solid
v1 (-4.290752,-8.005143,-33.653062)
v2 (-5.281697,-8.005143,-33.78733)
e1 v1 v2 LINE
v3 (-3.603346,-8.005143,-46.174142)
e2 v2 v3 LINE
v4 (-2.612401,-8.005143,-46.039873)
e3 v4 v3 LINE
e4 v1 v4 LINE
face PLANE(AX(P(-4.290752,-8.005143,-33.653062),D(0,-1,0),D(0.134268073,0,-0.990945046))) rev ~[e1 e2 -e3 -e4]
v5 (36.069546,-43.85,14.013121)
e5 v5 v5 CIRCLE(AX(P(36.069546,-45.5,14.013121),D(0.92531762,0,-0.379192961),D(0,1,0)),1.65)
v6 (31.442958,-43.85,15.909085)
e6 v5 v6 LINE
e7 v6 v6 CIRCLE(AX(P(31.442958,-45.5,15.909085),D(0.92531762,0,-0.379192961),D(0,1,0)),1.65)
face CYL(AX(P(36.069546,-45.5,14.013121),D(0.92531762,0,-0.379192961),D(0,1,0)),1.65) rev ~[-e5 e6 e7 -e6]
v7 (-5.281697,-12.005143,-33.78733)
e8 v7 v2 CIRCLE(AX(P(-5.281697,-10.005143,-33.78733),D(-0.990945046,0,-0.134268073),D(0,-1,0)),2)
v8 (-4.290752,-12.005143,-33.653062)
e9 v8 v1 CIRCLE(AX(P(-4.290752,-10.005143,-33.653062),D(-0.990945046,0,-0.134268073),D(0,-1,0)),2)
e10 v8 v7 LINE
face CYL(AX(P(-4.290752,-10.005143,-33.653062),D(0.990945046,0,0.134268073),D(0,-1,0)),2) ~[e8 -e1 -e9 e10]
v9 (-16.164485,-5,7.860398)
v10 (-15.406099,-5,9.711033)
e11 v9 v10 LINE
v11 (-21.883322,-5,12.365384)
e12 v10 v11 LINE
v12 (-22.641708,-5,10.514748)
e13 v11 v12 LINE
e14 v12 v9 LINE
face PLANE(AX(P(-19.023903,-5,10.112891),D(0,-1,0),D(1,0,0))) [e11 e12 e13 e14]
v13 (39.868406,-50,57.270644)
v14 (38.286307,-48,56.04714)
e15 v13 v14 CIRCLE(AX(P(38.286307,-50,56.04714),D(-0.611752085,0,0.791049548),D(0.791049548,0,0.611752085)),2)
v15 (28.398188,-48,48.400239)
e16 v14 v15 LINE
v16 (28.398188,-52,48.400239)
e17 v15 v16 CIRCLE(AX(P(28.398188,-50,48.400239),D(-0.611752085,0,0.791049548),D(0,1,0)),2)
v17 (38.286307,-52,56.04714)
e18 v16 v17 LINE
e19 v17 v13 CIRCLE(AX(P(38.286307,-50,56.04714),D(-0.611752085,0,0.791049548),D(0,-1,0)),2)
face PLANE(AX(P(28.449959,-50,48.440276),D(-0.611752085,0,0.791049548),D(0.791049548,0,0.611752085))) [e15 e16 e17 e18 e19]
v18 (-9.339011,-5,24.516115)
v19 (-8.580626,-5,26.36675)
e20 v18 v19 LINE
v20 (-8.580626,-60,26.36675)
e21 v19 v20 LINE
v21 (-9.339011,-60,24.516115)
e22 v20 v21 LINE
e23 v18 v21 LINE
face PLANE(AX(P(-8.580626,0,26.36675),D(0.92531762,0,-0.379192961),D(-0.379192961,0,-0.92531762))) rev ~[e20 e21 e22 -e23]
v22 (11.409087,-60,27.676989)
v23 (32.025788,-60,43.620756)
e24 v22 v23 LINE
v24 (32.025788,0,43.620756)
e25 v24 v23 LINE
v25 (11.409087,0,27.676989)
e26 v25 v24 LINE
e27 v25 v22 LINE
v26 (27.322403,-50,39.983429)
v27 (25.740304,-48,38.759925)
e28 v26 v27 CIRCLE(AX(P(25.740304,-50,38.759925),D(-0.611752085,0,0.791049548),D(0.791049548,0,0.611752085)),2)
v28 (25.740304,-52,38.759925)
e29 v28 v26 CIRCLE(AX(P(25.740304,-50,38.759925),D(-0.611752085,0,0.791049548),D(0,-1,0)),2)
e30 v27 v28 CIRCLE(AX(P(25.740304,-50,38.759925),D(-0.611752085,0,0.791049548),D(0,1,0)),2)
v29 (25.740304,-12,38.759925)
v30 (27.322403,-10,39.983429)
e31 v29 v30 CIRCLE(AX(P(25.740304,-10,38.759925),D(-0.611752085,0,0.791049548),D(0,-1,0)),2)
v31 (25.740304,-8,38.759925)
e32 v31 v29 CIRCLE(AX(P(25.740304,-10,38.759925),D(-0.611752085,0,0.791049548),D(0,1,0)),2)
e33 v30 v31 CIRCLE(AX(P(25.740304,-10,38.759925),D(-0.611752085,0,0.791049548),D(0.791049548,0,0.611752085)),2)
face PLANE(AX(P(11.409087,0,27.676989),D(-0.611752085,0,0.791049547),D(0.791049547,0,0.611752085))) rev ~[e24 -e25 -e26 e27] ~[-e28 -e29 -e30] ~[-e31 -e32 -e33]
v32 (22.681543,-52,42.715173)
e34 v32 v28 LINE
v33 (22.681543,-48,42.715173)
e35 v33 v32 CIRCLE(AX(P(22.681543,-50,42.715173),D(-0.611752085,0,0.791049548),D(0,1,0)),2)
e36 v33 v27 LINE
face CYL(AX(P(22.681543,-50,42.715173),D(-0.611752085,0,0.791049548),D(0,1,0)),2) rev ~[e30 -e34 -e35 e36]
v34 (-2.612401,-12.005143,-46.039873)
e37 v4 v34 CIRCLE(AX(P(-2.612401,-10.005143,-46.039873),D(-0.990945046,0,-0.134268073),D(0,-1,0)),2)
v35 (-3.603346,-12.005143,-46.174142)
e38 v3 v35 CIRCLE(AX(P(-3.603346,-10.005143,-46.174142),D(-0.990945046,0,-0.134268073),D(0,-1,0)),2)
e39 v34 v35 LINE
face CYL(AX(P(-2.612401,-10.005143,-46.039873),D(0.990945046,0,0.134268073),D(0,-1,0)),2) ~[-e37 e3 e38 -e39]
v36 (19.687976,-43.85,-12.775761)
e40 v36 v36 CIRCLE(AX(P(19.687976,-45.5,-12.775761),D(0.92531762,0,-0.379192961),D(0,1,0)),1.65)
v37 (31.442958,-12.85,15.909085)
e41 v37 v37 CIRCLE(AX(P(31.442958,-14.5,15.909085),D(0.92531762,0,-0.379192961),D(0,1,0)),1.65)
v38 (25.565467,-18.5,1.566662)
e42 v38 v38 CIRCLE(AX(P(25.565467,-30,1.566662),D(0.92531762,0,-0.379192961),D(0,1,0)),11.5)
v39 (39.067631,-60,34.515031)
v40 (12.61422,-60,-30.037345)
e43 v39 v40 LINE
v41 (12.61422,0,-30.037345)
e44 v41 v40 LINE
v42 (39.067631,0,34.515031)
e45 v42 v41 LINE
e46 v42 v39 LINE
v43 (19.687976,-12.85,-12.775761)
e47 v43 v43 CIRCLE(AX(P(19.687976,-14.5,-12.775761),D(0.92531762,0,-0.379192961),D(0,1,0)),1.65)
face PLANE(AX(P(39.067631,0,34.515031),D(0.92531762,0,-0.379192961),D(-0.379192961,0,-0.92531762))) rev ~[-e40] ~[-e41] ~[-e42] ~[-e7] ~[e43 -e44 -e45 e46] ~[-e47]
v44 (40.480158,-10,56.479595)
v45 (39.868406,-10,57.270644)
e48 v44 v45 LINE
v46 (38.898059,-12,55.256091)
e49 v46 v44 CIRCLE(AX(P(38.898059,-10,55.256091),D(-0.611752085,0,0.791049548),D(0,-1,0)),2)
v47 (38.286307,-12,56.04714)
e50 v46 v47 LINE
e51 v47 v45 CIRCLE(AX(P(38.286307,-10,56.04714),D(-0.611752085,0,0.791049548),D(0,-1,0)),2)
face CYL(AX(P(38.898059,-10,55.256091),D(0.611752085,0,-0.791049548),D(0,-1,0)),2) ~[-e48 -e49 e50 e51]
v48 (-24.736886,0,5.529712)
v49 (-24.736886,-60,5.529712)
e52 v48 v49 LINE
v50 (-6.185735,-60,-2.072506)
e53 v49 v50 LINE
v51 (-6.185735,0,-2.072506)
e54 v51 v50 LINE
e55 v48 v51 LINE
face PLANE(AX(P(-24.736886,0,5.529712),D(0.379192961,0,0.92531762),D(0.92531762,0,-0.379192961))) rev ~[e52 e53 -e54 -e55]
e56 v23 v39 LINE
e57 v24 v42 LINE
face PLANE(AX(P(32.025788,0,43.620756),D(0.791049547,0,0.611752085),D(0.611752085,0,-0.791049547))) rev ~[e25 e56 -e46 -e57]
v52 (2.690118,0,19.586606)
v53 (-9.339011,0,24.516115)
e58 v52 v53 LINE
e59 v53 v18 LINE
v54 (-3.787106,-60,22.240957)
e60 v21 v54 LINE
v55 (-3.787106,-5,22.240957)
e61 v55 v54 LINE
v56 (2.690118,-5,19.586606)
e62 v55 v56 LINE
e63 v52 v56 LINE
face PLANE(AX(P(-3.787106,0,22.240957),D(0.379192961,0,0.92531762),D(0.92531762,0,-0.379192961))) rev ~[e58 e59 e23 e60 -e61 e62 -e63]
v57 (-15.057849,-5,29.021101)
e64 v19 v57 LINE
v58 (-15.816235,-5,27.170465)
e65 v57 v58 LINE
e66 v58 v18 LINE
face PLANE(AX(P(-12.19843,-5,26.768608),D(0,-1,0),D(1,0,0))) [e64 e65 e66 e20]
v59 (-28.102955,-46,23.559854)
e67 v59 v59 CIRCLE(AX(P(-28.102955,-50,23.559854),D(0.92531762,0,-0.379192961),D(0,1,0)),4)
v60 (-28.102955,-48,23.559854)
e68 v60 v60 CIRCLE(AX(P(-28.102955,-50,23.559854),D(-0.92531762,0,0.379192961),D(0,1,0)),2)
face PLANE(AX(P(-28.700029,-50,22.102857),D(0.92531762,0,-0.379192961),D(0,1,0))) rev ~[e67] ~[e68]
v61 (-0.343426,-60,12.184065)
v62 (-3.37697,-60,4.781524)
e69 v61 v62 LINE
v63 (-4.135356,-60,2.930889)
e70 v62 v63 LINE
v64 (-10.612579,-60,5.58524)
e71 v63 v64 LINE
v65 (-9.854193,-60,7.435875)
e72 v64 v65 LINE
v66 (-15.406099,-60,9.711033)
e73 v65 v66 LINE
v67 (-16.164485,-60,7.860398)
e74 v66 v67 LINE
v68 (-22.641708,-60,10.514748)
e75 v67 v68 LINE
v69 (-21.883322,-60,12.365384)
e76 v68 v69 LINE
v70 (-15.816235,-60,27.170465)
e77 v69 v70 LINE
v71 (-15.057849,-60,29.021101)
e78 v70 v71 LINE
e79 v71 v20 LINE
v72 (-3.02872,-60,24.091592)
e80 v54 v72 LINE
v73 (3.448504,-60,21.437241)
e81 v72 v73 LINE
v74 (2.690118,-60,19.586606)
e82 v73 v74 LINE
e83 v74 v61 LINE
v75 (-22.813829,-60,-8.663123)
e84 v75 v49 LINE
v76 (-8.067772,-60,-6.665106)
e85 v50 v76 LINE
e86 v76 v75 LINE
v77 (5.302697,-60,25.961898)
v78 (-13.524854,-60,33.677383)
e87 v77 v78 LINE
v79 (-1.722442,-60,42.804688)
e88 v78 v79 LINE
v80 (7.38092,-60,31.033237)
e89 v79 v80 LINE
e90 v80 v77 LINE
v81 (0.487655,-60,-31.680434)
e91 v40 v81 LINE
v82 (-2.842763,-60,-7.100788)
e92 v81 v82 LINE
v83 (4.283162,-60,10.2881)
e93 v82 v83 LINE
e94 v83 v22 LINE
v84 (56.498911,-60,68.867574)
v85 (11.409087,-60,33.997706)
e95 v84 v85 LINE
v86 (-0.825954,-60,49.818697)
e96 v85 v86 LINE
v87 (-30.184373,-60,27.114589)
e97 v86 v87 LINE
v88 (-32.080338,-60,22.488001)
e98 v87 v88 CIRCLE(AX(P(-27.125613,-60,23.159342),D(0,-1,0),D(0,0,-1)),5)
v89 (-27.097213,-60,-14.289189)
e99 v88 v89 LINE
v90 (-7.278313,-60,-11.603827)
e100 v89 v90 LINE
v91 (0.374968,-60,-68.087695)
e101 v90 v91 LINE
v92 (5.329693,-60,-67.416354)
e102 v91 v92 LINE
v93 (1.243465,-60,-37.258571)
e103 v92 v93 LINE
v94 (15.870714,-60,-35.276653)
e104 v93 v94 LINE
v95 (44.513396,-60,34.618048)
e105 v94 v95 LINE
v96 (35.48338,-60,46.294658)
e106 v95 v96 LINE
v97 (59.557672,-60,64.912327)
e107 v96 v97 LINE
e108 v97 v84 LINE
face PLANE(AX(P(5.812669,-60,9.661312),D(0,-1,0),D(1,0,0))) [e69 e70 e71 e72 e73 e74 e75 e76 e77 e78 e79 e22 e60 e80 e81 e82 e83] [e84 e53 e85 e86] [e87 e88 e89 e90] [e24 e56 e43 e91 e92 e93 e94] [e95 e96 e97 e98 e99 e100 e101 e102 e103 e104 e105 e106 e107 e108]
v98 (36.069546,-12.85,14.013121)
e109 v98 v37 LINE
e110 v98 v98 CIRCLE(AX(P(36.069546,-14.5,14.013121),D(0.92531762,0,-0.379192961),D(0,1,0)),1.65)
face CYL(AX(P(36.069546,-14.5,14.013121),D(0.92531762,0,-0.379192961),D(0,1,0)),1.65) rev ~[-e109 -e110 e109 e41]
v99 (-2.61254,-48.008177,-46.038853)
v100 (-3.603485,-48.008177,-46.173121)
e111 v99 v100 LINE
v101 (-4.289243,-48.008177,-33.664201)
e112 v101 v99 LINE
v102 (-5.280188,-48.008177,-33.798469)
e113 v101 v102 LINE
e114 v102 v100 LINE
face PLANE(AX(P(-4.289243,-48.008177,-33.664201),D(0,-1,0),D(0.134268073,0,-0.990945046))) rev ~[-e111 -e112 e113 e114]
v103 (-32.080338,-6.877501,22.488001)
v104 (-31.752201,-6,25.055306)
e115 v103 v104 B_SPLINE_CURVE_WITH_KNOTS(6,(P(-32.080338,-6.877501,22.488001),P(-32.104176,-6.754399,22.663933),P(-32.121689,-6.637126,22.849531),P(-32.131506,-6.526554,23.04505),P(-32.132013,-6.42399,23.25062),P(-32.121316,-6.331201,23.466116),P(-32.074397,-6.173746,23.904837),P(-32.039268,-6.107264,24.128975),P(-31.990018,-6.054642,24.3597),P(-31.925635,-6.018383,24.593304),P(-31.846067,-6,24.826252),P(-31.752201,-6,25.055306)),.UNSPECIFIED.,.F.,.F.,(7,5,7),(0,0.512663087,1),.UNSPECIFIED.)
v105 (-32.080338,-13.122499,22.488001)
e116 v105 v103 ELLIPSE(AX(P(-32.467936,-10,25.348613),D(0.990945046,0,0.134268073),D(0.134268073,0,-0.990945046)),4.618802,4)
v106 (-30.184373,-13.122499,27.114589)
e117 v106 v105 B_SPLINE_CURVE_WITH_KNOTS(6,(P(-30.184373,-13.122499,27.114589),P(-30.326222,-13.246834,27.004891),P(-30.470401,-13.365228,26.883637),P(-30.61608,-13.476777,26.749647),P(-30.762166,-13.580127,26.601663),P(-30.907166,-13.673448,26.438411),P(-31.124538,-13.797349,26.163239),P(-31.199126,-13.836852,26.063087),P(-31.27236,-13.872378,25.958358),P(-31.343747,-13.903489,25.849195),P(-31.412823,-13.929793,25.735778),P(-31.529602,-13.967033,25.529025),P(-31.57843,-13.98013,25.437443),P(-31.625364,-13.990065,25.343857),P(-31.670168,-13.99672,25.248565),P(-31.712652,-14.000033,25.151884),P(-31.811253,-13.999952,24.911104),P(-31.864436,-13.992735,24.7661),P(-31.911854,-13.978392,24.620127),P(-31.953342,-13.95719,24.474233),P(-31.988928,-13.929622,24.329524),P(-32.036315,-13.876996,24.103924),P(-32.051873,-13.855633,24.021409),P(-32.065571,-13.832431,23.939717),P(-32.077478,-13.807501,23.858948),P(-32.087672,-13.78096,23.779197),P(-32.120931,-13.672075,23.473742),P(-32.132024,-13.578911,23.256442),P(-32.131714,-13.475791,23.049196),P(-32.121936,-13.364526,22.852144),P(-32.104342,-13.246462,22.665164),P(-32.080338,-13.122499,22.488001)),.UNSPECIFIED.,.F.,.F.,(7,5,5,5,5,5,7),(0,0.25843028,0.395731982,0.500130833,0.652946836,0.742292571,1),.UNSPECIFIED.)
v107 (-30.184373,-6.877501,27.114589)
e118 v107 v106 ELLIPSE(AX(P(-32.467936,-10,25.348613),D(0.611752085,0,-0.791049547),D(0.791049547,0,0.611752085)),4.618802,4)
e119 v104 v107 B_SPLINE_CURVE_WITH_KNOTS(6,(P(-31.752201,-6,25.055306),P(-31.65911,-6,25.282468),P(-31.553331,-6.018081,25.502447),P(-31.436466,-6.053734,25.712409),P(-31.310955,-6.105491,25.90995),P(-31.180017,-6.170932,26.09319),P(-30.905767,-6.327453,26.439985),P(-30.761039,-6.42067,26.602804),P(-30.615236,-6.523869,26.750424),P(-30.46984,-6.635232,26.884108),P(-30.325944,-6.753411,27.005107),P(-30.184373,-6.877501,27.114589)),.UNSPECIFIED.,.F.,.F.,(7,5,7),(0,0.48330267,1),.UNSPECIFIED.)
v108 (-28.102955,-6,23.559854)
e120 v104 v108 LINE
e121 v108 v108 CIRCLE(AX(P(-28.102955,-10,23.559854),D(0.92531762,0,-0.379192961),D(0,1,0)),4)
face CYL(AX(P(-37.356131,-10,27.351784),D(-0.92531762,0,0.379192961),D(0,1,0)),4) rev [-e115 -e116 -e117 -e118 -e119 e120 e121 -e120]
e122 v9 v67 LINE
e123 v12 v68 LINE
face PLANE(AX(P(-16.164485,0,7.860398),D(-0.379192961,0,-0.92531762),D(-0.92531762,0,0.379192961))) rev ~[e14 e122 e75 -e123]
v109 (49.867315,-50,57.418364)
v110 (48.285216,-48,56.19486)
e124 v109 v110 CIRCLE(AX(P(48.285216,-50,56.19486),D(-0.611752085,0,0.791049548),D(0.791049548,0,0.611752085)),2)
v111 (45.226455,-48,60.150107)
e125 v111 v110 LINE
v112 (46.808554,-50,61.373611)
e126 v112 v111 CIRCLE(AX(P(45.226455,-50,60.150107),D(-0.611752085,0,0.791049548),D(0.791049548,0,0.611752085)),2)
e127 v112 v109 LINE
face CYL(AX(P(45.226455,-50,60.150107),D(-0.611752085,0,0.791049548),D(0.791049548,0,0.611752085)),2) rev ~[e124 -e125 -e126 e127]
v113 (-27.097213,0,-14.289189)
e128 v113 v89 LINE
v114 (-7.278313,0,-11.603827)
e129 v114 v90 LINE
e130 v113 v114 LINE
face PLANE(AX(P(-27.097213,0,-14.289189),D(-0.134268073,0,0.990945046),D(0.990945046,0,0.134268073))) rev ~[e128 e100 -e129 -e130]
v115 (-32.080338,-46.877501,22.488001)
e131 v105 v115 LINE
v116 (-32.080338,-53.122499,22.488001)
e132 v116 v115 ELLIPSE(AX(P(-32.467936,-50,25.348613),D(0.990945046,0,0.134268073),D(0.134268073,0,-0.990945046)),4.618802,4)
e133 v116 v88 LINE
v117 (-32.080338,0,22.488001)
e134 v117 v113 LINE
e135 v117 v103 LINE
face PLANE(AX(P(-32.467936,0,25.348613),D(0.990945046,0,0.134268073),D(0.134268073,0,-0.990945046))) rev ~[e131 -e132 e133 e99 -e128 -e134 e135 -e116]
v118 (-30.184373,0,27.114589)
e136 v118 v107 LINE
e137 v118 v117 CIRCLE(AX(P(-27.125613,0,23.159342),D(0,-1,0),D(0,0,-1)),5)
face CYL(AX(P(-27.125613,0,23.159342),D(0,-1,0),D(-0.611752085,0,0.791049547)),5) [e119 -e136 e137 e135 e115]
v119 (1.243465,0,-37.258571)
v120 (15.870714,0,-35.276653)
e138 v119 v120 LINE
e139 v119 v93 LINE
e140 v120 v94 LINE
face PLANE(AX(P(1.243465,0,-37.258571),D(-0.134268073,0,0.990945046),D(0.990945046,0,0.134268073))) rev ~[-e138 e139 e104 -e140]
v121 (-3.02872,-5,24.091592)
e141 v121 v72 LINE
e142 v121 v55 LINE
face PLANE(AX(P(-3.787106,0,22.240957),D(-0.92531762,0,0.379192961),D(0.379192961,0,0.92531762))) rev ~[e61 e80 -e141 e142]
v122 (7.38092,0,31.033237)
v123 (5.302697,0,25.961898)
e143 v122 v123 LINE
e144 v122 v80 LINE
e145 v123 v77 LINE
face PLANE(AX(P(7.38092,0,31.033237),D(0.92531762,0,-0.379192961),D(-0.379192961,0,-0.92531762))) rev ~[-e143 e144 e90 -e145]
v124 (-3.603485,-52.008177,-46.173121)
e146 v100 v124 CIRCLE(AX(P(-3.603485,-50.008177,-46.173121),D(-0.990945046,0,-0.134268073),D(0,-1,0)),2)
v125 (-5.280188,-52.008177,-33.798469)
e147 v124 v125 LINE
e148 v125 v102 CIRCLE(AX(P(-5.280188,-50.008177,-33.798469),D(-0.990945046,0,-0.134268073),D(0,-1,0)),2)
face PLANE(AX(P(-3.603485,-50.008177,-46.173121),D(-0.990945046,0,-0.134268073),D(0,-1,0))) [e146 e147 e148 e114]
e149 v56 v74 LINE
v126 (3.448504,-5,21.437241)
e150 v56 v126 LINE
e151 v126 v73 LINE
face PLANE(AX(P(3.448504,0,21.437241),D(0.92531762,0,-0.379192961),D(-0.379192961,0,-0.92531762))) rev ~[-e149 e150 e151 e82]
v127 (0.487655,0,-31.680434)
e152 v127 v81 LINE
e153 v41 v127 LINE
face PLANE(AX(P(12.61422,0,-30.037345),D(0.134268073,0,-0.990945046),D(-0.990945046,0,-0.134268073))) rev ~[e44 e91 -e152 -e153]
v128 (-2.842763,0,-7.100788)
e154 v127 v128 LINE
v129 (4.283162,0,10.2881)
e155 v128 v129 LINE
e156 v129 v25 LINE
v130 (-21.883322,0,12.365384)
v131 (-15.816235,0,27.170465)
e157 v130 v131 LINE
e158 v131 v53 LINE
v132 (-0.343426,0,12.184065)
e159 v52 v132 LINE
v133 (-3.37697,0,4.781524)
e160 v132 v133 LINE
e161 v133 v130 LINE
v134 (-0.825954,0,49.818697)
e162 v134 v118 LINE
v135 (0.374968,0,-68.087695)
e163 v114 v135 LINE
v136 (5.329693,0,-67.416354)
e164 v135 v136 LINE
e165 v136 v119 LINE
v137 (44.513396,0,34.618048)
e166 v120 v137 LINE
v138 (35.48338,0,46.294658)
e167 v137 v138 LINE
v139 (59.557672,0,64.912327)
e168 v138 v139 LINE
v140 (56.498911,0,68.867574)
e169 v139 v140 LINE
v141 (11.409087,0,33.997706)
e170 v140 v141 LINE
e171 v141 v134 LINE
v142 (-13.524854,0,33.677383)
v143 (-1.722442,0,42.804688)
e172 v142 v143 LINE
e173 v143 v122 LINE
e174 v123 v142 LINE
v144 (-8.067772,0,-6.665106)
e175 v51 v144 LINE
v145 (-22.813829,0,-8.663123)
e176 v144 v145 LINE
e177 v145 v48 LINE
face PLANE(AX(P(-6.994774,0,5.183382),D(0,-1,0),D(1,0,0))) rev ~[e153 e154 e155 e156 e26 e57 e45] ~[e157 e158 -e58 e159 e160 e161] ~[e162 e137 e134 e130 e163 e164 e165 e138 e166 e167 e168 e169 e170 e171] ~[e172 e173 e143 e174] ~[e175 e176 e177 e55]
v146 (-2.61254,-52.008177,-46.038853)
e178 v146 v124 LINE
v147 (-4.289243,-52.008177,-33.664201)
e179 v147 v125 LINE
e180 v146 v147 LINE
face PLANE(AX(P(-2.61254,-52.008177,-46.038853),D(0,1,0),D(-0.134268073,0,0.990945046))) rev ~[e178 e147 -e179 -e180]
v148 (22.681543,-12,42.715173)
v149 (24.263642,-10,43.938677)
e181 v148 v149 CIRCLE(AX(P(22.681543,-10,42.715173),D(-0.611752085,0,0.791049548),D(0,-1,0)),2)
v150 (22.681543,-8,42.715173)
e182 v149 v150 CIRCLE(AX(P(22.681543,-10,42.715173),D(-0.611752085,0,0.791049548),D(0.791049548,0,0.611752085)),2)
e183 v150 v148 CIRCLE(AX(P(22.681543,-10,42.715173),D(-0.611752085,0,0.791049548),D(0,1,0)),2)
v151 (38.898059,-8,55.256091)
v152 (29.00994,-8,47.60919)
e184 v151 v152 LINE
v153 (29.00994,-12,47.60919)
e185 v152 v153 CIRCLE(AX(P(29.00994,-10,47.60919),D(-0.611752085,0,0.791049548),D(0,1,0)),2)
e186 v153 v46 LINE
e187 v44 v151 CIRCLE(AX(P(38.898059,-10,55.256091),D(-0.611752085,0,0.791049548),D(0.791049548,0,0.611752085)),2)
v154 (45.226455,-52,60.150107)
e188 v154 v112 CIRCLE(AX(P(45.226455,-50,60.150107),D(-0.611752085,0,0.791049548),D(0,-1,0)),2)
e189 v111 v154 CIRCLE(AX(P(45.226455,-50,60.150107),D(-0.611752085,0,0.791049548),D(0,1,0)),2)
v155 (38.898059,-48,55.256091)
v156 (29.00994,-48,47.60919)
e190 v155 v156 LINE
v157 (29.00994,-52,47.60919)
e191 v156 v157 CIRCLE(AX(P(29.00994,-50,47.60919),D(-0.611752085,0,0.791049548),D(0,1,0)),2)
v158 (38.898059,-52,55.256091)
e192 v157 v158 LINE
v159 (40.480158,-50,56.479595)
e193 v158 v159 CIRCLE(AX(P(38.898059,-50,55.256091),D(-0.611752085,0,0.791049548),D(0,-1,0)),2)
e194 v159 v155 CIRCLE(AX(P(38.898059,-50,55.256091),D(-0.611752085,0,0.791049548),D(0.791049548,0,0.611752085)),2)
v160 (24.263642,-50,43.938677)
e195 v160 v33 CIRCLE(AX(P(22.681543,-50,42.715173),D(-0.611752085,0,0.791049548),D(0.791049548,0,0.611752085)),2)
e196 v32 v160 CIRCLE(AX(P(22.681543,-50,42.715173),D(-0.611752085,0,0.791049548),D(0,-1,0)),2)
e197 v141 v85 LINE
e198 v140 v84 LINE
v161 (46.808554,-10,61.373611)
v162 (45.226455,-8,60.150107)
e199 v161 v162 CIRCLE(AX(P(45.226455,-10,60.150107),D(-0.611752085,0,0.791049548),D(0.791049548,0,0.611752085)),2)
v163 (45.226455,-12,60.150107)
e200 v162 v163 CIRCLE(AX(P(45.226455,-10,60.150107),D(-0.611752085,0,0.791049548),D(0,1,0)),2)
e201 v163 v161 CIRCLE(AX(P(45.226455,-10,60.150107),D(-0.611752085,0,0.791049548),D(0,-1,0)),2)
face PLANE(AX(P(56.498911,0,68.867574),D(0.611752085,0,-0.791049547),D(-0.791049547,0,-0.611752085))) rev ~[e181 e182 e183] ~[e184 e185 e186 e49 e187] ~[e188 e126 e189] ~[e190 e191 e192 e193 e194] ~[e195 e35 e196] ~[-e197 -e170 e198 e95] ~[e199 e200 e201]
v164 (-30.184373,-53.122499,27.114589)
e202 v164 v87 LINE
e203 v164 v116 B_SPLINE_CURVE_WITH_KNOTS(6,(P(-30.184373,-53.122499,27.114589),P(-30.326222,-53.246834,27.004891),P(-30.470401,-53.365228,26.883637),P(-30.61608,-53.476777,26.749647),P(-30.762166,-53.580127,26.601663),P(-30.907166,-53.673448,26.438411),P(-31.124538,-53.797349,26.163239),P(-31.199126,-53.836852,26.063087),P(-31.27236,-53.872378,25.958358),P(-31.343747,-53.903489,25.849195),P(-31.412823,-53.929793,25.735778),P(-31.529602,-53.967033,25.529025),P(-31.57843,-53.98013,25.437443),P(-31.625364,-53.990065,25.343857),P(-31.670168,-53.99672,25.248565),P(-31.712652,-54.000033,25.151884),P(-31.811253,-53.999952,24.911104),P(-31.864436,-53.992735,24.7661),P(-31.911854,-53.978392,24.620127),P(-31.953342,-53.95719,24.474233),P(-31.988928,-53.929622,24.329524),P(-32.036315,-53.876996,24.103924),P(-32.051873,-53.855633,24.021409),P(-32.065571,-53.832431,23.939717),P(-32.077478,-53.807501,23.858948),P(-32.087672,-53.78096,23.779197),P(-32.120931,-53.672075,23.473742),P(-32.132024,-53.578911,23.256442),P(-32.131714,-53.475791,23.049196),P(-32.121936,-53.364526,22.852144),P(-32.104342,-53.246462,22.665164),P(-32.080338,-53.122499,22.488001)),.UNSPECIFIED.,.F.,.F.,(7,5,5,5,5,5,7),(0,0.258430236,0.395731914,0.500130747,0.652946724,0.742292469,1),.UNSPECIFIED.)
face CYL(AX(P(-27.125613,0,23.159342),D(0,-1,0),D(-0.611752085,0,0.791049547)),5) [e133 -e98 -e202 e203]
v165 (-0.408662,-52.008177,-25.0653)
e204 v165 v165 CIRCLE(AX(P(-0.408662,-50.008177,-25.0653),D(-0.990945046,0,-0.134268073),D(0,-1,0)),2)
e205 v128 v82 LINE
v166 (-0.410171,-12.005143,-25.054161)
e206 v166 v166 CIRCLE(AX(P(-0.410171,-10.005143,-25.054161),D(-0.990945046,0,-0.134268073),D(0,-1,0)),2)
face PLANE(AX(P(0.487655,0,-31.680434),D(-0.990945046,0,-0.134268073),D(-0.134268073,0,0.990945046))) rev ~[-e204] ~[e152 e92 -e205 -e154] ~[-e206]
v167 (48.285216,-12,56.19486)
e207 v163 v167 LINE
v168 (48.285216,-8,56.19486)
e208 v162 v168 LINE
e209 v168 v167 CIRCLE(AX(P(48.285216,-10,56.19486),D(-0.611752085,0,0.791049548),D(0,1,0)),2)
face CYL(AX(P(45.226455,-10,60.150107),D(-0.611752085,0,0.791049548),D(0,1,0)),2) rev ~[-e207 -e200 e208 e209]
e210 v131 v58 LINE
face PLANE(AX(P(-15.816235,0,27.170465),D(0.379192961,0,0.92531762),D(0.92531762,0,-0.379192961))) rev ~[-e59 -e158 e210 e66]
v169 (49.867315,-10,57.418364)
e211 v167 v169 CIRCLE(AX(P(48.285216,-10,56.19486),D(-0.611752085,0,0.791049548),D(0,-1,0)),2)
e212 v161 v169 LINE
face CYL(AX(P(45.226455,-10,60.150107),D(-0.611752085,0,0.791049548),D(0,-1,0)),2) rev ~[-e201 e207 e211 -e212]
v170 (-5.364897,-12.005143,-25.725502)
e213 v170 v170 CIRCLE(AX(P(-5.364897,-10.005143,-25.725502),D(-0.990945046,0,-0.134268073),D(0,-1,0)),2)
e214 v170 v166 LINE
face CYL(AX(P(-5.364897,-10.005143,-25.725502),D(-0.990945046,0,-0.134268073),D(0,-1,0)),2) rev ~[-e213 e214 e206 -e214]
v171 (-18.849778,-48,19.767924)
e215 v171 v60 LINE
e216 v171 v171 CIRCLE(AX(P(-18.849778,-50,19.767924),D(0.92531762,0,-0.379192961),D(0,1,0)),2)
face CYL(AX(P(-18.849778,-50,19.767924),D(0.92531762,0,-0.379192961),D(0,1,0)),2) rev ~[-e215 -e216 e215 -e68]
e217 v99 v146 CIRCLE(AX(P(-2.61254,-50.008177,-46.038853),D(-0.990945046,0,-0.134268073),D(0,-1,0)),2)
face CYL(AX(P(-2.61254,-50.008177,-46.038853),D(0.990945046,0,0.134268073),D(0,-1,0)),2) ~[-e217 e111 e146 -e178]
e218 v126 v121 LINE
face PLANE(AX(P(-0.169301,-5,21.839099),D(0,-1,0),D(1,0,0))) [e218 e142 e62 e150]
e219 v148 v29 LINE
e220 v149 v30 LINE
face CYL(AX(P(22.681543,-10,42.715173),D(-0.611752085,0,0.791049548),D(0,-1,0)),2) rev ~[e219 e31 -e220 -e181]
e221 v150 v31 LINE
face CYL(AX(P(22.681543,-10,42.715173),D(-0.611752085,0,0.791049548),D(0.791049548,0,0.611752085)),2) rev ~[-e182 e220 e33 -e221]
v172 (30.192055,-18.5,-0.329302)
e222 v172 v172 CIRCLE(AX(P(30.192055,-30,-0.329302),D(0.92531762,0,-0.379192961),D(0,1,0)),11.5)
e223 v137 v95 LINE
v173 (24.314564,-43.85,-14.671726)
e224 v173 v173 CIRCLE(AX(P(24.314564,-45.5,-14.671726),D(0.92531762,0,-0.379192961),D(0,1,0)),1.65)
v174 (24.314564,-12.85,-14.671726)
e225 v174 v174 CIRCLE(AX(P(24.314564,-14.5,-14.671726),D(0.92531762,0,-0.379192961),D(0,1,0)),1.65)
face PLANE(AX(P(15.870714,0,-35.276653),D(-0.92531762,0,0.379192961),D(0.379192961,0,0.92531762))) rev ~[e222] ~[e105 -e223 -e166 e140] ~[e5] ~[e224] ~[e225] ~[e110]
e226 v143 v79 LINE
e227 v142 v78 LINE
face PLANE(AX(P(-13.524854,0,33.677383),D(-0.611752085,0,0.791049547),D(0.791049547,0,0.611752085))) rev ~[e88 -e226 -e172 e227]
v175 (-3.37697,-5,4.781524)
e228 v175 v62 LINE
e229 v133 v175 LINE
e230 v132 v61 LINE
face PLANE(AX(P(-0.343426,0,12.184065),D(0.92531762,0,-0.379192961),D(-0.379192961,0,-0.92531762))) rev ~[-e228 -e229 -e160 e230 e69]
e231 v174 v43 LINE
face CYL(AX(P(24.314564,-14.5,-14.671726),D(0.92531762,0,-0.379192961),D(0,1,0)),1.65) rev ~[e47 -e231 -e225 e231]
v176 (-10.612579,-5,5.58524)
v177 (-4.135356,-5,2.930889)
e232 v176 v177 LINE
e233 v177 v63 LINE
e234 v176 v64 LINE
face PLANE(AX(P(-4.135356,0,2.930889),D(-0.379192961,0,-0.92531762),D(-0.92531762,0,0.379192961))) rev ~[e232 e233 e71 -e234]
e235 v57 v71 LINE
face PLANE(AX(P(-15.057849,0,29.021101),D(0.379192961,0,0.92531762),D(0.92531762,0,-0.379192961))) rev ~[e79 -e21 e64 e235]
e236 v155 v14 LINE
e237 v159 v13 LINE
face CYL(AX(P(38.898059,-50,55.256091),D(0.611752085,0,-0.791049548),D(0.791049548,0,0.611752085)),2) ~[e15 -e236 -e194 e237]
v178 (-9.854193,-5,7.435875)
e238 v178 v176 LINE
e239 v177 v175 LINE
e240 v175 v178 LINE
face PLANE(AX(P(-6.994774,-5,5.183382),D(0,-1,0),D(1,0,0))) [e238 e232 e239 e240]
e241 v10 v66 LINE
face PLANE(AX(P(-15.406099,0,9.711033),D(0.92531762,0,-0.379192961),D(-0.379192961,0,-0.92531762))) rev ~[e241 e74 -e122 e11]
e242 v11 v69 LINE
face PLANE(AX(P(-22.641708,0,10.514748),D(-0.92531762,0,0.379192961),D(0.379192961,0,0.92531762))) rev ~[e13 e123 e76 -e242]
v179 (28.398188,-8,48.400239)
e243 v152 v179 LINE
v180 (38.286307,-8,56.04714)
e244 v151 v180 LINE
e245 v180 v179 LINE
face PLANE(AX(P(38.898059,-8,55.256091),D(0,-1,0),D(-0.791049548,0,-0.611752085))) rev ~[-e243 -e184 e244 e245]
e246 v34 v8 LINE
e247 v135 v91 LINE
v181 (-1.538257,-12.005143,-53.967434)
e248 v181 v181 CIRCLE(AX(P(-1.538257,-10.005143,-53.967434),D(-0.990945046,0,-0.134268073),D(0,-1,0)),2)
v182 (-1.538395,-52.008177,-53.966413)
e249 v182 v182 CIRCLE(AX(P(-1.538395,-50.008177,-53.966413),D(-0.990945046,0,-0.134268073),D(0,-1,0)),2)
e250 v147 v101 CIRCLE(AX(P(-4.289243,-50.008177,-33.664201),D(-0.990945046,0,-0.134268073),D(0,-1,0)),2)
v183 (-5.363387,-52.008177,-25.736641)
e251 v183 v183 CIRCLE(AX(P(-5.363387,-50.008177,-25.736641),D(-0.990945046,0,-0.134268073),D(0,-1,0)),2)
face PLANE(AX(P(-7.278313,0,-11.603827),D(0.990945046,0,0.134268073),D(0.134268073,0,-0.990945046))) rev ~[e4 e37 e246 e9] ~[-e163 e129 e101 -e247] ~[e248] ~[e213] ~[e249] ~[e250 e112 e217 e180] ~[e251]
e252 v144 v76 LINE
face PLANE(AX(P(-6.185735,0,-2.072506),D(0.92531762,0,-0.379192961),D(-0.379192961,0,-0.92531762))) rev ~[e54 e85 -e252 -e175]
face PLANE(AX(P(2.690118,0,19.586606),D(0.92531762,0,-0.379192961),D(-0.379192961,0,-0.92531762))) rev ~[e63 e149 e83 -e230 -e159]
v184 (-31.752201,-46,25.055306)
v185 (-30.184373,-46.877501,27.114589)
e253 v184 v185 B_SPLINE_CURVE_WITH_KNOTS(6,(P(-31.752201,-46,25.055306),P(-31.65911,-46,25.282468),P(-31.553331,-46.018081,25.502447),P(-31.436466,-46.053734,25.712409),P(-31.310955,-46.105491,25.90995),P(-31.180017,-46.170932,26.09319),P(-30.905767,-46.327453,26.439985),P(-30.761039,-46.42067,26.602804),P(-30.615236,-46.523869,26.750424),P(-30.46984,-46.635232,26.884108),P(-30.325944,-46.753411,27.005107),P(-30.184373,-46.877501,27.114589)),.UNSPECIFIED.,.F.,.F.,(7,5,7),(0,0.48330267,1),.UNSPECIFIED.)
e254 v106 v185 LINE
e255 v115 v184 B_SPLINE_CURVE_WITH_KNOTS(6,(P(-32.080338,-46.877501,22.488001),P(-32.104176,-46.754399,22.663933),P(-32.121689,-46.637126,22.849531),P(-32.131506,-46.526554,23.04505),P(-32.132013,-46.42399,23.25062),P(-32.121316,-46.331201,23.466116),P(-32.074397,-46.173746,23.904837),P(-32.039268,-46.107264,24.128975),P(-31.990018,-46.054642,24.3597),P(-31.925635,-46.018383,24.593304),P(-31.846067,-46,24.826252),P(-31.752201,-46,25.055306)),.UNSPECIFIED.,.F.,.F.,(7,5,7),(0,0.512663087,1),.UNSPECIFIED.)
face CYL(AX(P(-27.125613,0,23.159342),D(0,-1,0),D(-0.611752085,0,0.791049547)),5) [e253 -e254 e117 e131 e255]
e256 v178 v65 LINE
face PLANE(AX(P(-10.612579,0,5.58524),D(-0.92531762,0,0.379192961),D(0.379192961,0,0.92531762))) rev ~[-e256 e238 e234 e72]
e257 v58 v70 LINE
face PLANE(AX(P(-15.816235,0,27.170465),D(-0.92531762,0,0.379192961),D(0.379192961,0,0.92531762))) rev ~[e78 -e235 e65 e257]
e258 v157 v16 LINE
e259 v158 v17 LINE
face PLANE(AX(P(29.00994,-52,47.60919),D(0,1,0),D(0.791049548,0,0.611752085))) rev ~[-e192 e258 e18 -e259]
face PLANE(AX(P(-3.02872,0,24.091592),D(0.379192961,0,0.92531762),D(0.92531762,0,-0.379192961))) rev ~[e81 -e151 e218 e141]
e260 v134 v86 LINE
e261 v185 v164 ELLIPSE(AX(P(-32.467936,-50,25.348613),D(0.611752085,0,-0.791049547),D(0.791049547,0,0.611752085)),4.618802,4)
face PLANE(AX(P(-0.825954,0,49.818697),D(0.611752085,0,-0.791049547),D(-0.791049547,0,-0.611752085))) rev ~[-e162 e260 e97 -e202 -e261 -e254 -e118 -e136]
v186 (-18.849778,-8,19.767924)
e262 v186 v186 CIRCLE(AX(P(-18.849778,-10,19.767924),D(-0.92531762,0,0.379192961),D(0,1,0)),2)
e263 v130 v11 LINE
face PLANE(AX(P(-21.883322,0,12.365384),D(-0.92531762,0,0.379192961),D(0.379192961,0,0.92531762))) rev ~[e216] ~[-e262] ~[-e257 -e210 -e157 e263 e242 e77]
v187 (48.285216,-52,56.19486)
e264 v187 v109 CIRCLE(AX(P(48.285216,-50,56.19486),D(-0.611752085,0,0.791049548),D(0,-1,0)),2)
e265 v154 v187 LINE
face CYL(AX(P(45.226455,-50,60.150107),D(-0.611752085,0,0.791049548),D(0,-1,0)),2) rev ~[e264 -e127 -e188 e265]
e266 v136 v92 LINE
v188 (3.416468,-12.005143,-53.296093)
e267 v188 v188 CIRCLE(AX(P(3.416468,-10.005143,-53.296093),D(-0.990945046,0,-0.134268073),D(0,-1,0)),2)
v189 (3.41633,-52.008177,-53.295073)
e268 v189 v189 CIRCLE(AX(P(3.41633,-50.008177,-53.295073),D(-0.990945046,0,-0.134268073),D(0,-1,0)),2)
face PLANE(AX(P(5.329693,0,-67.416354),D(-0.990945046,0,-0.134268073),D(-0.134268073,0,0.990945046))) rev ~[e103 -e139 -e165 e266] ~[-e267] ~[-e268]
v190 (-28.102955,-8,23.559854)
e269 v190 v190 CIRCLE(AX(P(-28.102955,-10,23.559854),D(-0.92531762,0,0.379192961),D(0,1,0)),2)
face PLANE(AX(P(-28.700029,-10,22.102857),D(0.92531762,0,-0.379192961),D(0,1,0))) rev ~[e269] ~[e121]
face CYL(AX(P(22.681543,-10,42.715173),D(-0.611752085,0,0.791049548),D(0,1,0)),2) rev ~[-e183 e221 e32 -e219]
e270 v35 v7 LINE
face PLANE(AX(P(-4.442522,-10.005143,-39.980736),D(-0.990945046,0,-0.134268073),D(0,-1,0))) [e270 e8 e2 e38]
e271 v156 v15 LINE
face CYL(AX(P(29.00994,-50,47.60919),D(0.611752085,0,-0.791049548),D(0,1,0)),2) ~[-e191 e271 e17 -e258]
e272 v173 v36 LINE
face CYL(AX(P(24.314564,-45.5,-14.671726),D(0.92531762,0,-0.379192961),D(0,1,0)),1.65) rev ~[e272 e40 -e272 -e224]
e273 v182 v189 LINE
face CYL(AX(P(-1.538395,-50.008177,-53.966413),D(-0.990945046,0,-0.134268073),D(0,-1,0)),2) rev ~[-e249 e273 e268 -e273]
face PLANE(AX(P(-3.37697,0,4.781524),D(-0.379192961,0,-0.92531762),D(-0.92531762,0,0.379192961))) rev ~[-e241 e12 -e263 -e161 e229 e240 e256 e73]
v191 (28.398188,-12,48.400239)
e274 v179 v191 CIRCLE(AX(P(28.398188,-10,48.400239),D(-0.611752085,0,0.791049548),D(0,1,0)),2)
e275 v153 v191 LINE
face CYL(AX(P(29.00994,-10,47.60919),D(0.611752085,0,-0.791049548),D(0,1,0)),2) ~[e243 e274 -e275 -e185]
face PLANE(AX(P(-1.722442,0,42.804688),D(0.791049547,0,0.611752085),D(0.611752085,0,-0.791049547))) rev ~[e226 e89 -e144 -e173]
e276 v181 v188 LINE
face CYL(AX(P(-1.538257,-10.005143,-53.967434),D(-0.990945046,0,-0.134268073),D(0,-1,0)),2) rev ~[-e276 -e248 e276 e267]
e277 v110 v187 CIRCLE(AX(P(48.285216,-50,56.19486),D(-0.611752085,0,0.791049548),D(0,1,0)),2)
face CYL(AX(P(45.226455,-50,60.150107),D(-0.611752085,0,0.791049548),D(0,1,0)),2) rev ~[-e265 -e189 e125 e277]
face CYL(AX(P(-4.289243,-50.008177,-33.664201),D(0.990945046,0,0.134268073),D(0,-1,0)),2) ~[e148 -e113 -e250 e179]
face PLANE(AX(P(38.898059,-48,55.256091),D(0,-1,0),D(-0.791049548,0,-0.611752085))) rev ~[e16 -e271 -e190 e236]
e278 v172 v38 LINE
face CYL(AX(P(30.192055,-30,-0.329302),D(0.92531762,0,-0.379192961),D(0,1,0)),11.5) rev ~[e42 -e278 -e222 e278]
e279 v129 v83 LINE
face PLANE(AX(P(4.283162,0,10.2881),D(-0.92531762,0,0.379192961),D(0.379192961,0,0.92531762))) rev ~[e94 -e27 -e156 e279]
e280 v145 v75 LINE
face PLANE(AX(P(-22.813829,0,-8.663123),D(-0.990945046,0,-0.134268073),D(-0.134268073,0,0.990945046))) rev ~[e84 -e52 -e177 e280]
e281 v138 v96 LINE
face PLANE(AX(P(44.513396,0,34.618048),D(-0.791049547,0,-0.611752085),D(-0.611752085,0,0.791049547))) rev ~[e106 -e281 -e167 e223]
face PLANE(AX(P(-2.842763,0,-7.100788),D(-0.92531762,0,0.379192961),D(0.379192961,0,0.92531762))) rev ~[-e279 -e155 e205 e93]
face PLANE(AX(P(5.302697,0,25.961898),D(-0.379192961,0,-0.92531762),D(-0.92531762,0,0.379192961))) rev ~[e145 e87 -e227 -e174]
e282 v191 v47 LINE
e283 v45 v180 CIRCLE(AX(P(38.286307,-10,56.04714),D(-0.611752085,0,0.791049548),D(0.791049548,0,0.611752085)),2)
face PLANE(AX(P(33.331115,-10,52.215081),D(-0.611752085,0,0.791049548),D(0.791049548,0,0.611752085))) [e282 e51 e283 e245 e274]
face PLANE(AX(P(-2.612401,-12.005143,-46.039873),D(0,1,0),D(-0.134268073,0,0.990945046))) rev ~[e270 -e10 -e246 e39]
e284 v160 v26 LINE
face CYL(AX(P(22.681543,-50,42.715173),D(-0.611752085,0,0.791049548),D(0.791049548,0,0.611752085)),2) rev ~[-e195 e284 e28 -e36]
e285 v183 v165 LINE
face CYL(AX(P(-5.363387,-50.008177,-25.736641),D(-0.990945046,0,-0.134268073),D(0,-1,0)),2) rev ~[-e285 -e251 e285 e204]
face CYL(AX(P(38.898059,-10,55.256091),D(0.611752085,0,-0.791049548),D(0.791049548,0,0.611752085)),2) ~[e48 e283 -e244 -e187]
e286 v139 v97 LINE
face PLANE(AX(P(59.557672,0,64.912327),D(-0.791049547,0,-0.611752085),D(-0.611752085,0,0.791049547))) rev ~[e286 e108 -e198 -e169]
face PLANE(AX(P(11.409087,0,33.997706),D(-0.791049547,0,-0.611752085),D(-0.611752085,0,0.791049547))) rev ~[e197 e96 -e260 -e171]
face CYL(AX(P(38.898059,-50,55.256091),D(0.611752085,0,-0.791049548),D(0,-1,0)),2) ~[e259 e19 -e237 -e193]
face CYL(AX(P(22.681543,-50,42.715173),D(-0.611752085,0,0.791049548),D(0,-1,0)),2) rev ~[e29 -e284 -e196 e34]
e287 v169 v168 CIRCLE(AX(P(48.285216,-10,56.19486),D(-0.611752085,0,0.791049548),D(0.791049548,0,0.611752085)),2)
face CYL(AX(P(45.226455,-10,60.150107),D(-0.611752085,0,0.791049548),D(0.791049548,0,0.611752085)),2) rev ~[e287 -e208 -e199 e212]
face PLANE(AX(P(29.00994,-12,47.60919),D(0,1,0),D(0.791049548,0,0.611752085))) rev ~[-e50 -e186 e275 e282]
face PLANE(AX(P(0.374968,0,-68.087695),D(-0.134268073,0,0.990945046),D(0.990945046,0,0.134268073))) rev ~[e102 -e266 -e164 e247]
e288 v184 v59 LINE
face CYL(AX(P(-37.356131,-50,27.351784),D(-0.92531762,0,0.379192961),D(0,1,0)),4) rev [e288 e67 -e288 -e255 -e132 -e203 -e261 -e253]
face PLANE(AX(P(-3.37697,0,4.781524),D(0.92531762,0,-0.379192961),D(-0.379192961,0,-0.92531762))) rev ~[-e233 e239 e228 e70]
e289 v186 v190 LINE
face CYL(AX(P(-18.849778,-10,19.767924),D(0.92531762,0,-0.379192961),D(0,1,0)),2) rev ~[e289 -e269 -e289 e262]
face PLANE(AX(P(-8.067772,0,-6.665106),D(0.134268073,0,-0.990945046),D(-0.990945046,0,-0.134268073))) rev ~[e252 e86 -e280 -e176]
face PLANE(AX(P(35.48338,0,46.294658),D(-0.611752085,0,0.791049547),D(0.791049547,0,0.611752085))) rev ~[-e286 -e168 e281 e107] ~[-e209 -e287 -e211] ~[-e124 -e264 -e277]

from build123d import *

# Parameters (mm, degrees)
F1_DEPTH  = 60
F2_DEPTH  = 5
F3_R      = 11.5
F4_DEPTH  = 5
F3_R_2    = 1.65
F5_DEPTH  = 5
F6_R      = 5
F8_DEPTH  = 5
F9_DEPTH  = 1
F11_DEPTH = 1
F12_DEPTH = 5
F14_DEPTH = 25
F15_DEPTH = 20
F16_DEPTH = 10


with BuildPart() as f1:
    # F0 (on Front) → F1 (new body)
    with BuildSketch(Plane.XZ):
        Polygon((-0.8259544704, 49.8186966014), (-32.4679363696, 25.3486132037), (-27.0972134641, -14.289188646), (-7.2783125393, -11.6038271932), (0.3749676011, -68.0876948289), (5.3296928323, -67.4163544658), (1.2434648082, -37.2585713182), (0.487655206, -31.680433742), (-2.8427632158, -7.1007881707), (4.2831620063, 10.2881004444), (11.4090872284, 27.6769890596), (32.0257881148, 43.6207561625), (35.483379544, 46.2946579079), (59.5576718595, 64.9123267561), (56.4989114348, 68.8675744935), (11.4090872284, 33.9977056518), align=None)
        Polygon((-24.736886441, 5.5297122789), (-6.1857349105, -2.0725055233), (-8.0677718696, -6.6651064883), (-22.8138285961, -8.6631230516), align=None, mode=Mode.SUBTRACT)
        Polygon((2.6901175961, 19.5866062119), (-0.3434260943, 12.1840652509), (-3.3769697847, 4.78152429), (-4.1353557073, 2.9308890498), (-10.6125790481, 5.5852397788), (-16.1644847688, 7.8603975466), (-22.6417081096, 10.5147482757), (-21.883322187, 12.365383516), (-15.8162348063, 27.1704654379), (-15.0578488837, 29.0211006781), (-8.5806255428, 26.366749949), (-3.0287198221, 24.0915921812), (3.4485035187, 21.4372414521), align=None, mode=Mode.SUBTRACT)
        Polygon((-13.5248543211, 33.6773834551), (-1.7224417831, 42.8046884393), (7.3809196811, 31.0332369902), (5.3026969009, 25.9618977163), align=None, mode=Mode.SUBTRACT)
        Polygon((-9.3390114654, 24.5161147088), (-3.7871057447, 22.240956941), (-3.0287198221, 24.0915921812), (-8.5806255428, 26.366749949), align=None)
        Polygon((-10.6125790481, 5.5852397788), (-9.8541931255, 7.4358750191), (-15.4060988462, 9.7110327869), (-16.1644847688, 7.8603975466), align=None)
        Polygon((44.5133963542, 34.6180475827), (35.483379544, 46.2946579079), (32.0257881148, 43.6207561625), (39.0676305083, 34.5150311868), (12.614220122, -30.0373451518), (0.487655206, -31.680433742), (1.2434648082, -37.2585713182), (15.870714385, -35.2766525265), align=None)
    extrude(amount=F1_DEPTH)

    # F0 (on Front) → F2 (join)
    with BuildSketch(Plane.XZ):
        Polygon((-4.1353557073, 2.9308890498), (-3.3769697847, 4.78152429), (-9.8541931255, 7.4358750191), (-10.6125790481, 5.5852397788), align=None)
        Polygon((-16.1644847688, 7.8603975466), (-15.4060988462, 9.7110327869), (-21.883322187, 12.365383516), (-22.6417081096, 10.5147482757), align=None)
        Polygon((-15.8162348063, 27.1704654379), (-9.3390114654, 24.5161147088), (-8.5806255428, 26.366749949), (-15.0578488837, 29.0211006781), align=None)
        Polygon((-3.7871057447, 22.240956941), (2.6901175961, 19.5866062119), (3.4485035187, 21.4372414521), (-3.0287198221, 24.0915921812), align=None)
    extrude(amount=F2_DEPTH)

    # F3 (on face) → F4 (cut)
    with BuildSketch(Plane(origin=(25.9663648412, 0, -10.6409545914), x_dir=(0, 1, 0), z_dir=(0.9253176201, 0, -0.3791929613))):
        with Locations((-30, 11.1439055037)):
            Circle(F3_R)
    extrude(amount=-F4_DEPTH, mode=Mode.SUBTRACT)

    # F3 (on face) → F5 (cut)
    with BuildSketch(Plane(origin=(25.9663648412, 0, -10.6409545914), x_dir=(0, 1, 0), z_dir=(0.9253176201, 0, -0.3791929613))):
        with Locations((-45.5, -4.3560944963)):
            Circle(F3_R_2)
        with Locations((-45.5, 26.6439055037)):
            Circle(F3_R_2)
        with Locations((-14.5, 26.6439055037)):
            Circle(F3_R_2)
        with Locations((-14.5, -4.3560944963)):
            Circle(F3_R_2)
    extrude(amount=-F5_DEPTH, mode=Mode.SUBTRACT)

    # F6
    f6_edges = [f1.edges().sort_by_distance(p)[0] for p in [
        (-32.467936, -30, 25.348613),
    ]]
    fillet(f6_edges, radius=F6_R)

    # F7 (on face) → F8 (cut)
    with BuildSketch(Plane(origin=(-8.6910154187, 0, -1.1775889026), x_dir=(0, -1, 0), z_dir=(-0.9909450462, 0, -0.1342680726))):
        with BuildLine():
            ThreePointArc((8.0051429963, -53.2722224429), (10.0051429963, -55.2722224429), (12.0051429963, -53.2722224429))
            ThreePointArc((12.0051429963, -53.2722224429), (10.0051429963, -51.2722224429), (8.0051429963, -53.2722224429))
        make_face()
        with BuildLine():
            ThreePointArc((48.0081772135, -53.2711927736), (50.0081772135, -55.2711927736), (52.0081772135, -53.2711927736))
            ThreePointArc((52.0081772135, -53.2711927736), (50.0081772135, -51.2711927736), (48.0081772135, -53.2711927736))
        make_face()
        with BuildLine():
            ThreePointArc((48.0081772135, -24.7834647967), (50.0081772135, -26.7834647967), (52.0081772135, -24.7834647967))
            ThreePointArc((52.0081772135, -24.7834647967), (50.0081772135, -22.7834647967), (48.0081772135, -24.7834647967))
        make_face()
        with BuildLine():
            ThreePointArc((8.0051429963, -24.7722242893), (10.0051429963, -26.7722242893), (12.0051429963, -24.7722242893))
            ThreePointArc((12.0051429963, -24.7722242893), (10.0051429963, -22.7722242893), (8.0051429963, -24.7722242893))
        make_face()
    extrude(amount=-F8_DEPTH, mode=Mode.SUBTRACT)

    # F7 (on face) → F9 (join)
    with BuildSketch(Plane(origin=(-8.6910154187, 0, -1.1775889026), x_dir=(0, -1, 0), z_dir=(-0.9909450462, 0, -0.1342680726))):
        with BuildLine():
            ThreePointArc((48.0081772135, -45.2711927736), (50.0081772135, -47.2711927736), (52.0081772135, -45.2711927736))
            ThreePointArc((52.0081772135, -45.2711927736), (50.0081772135, -43.2711927736), (48.0081772135, -45.2711927736))
        make_face()
        with BuildLine():
            Line((52.0081772135, -45.2711927736), (52.0081772135, -32.7834647967))
            ThreePointArc((52.0081772135, -32.7834647967), (50.0081772135, -34.7834647967), (48.0081772135, -32.7834647967))
            Line((48.0081772135, -32.7834647967), (48.0081772135, -45.2711927736))
            ThreePointArc((48.0081772135, -45.2711927736), (50.0081772135, -43.2711927736), (52.0081772135, -45.2711927736))
        make_face()
        with BuildLine():
            ThreePointArc((48.0081772135, -32.7834647967), (50.0081772135, -34.7834647967), (52.0081772135, -32.7834647967))
            ThreePointArc((52.0081772135, -32.7834647967), (50.0081772135, -30.7834647967), (48.0081772135, -32.7834647967))
        make_face()
        with BuildLine():
            ThreePointArc((8.0051429963, -45.2722224429), (10.0051429963, -43.2722224429), (12.0051429963, -45.2722224429))
            Line((12.0051429963, -45.2722224429), (12.0051429963, -32.7722242893))
            ThreePointArc((12.0051429963, -32.7722242893), (10.0051429963, -34.7722242893), (8.0051429963, -32.7722242893))
            Line((8.0051429963, -32.7722242893), (8.0051429963, -45.2722224429))
        make_face()
        with BuildLine():
            ThreePointArc((8.0051429963, -32.7722242893), (10.0051429963, -34.7722242893), (12.0051429963, -32.7722242893))
            ThreePointArc((12.0051429963, -32.7722242893), (10.0051429963, -30.7722242893), (8.0051429963, -32.7722242893))
        make_face()
        with BuildLine():
            ThreePointArc((8.0051429963, -45.2722224429), (10.0051429963, -47.2722224429), (12.0051429963, -45.2722224429))
            ThreePointArc((12.0051429963, -45.2722224429), (10.0051429963, -43.2722224429), (8.0051429963, -45.2722224429))
        make_face()
    extrude(amount=F9_DEPTH)

    # F10 (on face) → F11 (join)
    with BuildSketch(Plane(origin=(-12.1826370405, 0, 15.7532270918), x_dir=(0.7910495475, 0, 0.6117520849), z_dir=(-0.6117520849, 0, 0.7910495475))):
        with BuildLine():
            Line((64.573320605, -8), (52.073320605, -8))
            ThreePointArc((52.073320605, -8), (53.4875341673, -8.5857864376), (54.073320605, -10))
            ThreePointArc((54.073320605, -10), (53.4875341673, -11.4142135624), (52.073320605, -12))
            Line((52.073320605, -12), (64.573320605, -12))
            ThreePointArc((64.573320605, -12), (62.573320605, -10), (64.573320605, -8))
        make_face()
        with BuildLine():
            ThreePointArc((54.073320605, -10), (53.4875341673, -8.5857864376), (52.073320605, -8))
            ThreePointArc((52.073320605, -8), (50.073320605, -10), (52.073320605, -12))
            ThreePointArc((52.073320605, -12), (53.4875341673, -11.4142135624), (54.073320605, -10))
        make_face()
        with BuildLine():
            ThreePointArc((66.573320605, -10), (65.9875341673, -8.5857864376), (64.573320605, -8))
            ThreePointArc((64.573320605, -8), (62.573320605, -10), (64.573320605, -12))
            ThreePointArc((64.573320605, -12), (65.9875341673, -11.4142135624), (66.573320605, -10))
        make_face()
        with BuildLine():
            ThreePointArc((54.073320605, -50), (53.4875341673, -48.5857864376), (52.073320605, -48))
            ThreePointArc((52.073320605, -48), (50.073320605, -50), (52.073320605, -52))
            ThreePointArc((52.073320605, -52), (53.4875341673, -51.4142135624), (54.073320605, -50))
        make_face()
        with BuildLine():
            ThreePointArc((64.573320605, -52), (62.573320605, -50), (64.573320605, -48))
            Line((64.573320605, -48), (52.073320605, -48))
            ThreePointArc((52.073320605, -48), (53.4875341673, -48.5857864376), (54.073320605, -50))
            ThreePointArc((54.073320605, -50), (53.4875341673, -51.4142135624), (52.073320605, -52))
            Line((52.073320605, -52), (64.573320605, -52))
        make_face()
        with BuildLine():
            ThreePointArc((66.573320605, -50), (65.9875341673, -48.5857864376), (64.573320605, -48))
            ThreePointArc((64.573320605, -48), (62.573320605, -50), (64.573320605, -52))
            ThreePointArc((64.573320605, -52), (65.9875341673, -51.4142135624), (66.573320605, -50))
        make_face()
    extrude(amount=F11_DEPTH)

    # F10 (on face) → F12 (cut)
    with BuildSketch(Plane(origin=(-12.1826370405, 0, 15.7532270918), x_dir=(0.7910495475, 0, 0.6117520849), z_dir=(-0.6117520849, 0, 0.7910495475))):
        with BuildLine():
            ThreePointArc((44.073320605, -12), (45.4875341673, -11.4142135624), (46.073320605, -10))
            ThreePointArc((46.073320605, -10), (45.4875341673, -8.5857864376), (44.073320605, -8))
            ThreePointArc((44.073320605, -8), (42.073320605, -10), (44.073320605, -12))
        make_face()
        with BuildLine():
            ThreePointArc((74.573320605, -10), (73.9875341673, -8.5857864376), (72.573320605, -8))
            ThreePointArc((72.573320605, -8), (70.573320605, -10), (72.573320605, -12))
            ThreePointArc((72.573320605, -12), (73.9875341673, -11.4142135624), (74.573320605, -10))
        make_face()
        with BuildLine():
            ThreePointArc((46.073320605, -50), (45.4875341673, -48.5857864376), (44.073320605, -48))
            ThreePointArc((44.073320605, -48), (42.073320605, -50), (44.073320605, -52))
            ThreePointArc((44.073320605, -52), (45.4875341673, -51.4142135624), (46.073320605, -50))
        make_face()
        with BuildLine():
            ThreePointArc((72.573320605, -52), (73.9875341673, -51.4142135624), (74.573320605, -50))
            ThreePointArc((74.573320605, -50), (73.9875341673, -48.5857864376), (72.573320605, -48))
            ThreePointArc((72.573320605, -48), (70.573320605, -50), (72.573320605, -52))
        make_face()
    extrude(amount=-F12_DEPTH, mode=Mode.SUBTRACT)

    # F13 (on face) → F14 (cut)
    with BuildSketch(Plane(origin=(-23.075469025, 0, 9.4562723574), x_dir=(0, 1, 0), z_dir=(0.9253176201, 0, -0.3791929613))):
        with BuildLine():
            ThreePointArc((-52, 11.1439055037), (-50, 9.1439055037), (-48, 11.1439055037))
            Line((-48, 11.1439055037), (-52, 11.1439055037))
        make_face()
        with BuildLine():
            Line((-52, 11.1439055037), (-48, 11.1439055037))
            ThreePointArc((-48, 11.1439055037), (-50, 13.1439055037), (-52, 11.1439055037))
        make_face()
        with BuildLine():
            ThreePointArc((-12, 11.1439055037), (-10, 9.1439055037), (-8, 11.1439055037))
            Line((-8, 11.1439055037), (-12, 11.1439055037))
        make_face()
        with BuildLine():
            Line((-12, 11.1439055037), (-8, 11.1439055037))
            ThreePointArc((-8, 11.1439055037), (-10, 13.1439055037), (-12, 11.1439055037))
        make_face()
    extrude(amount=-F14_DEPTH, mode=Mode.SUBTRACT)

    # F13 (on face) → F15 (join)
    with BuildSketch(Plane(origin=(-23.075469025, 0, 9.4562723574), x_dir=(0, 1, 0), z_dir=(0.9253176201, 0, -0.3791929613))):
        with BuildLine():
            ThreePointArc((-54, 11.1439055037), (-50, 7.1439055037), (-46, 11.1439055037))
            Line((-46, 11.1439055037), (-48, 11.1439055037))
            ThreePointArc((-48, 11.1439055037), (-50, 9.1439055037), (-52, 11.1439055037))
            Line((-52, 11.1439055037), (-54, 11.1439055037))
        make_face()
        with BuildLine():
            Line((-48, 11.1439055037), (-46, 11.1439055037))
            ThreePointArc((-46, 11.1439055037), (-50, 15.1439055037), (-54, 11.1439055037))
            Line((-54, 11.1439055037), (-52, 11.1439055037))
            ThreePointArc((-52, 11.1439055037), (-50, 13.1439055037), (-48, 11.1439055037))
        make_face()
        with BuildLine():
            ThreePointArc((-14, 11.1439055037), (-10, 7.1439055037), (-6, 11.1439055037))
            Line((-6, 11.1439055037), (-8, 11.1439055037))
            ThreePointArc((-8, 11.1439055037), (-10, 9.1439055037), (-12, 11.1439055037))
            Line((-12, 11.1439055037), (-14, 11.1439055037))
        make_face()
        with BuildLine():
            Line((-8, 11.1439055037), (-6, 11.1439055037))
            ThreePointArc((-6, 11.1439055037), (-10, 15.1439055037), (-14, 11.1439055037))
            Line((-14, 11.1439055037), (-12, 11.1439055037))
            ThreePointArc((-12, 11.1439055037), (-10, 13.1439055037), (-8, 11.1439055037))
        make_face()
    extrude(amount=-F15_DEPTH)

    # F16 (cut): faces of the model
    f16_faces = [f1.faces().sort_by_distance(p)[0] for p in [
        (-37.356130899, -13.886862915, 27.3517837029),
        (-37.356130899, -47.886862915, 27.3517837029),
    ]]
    extrude(f16_faces, amount=-F16_DEPTH, mode=Mode.SUBTRACT)


solid = f1.part
